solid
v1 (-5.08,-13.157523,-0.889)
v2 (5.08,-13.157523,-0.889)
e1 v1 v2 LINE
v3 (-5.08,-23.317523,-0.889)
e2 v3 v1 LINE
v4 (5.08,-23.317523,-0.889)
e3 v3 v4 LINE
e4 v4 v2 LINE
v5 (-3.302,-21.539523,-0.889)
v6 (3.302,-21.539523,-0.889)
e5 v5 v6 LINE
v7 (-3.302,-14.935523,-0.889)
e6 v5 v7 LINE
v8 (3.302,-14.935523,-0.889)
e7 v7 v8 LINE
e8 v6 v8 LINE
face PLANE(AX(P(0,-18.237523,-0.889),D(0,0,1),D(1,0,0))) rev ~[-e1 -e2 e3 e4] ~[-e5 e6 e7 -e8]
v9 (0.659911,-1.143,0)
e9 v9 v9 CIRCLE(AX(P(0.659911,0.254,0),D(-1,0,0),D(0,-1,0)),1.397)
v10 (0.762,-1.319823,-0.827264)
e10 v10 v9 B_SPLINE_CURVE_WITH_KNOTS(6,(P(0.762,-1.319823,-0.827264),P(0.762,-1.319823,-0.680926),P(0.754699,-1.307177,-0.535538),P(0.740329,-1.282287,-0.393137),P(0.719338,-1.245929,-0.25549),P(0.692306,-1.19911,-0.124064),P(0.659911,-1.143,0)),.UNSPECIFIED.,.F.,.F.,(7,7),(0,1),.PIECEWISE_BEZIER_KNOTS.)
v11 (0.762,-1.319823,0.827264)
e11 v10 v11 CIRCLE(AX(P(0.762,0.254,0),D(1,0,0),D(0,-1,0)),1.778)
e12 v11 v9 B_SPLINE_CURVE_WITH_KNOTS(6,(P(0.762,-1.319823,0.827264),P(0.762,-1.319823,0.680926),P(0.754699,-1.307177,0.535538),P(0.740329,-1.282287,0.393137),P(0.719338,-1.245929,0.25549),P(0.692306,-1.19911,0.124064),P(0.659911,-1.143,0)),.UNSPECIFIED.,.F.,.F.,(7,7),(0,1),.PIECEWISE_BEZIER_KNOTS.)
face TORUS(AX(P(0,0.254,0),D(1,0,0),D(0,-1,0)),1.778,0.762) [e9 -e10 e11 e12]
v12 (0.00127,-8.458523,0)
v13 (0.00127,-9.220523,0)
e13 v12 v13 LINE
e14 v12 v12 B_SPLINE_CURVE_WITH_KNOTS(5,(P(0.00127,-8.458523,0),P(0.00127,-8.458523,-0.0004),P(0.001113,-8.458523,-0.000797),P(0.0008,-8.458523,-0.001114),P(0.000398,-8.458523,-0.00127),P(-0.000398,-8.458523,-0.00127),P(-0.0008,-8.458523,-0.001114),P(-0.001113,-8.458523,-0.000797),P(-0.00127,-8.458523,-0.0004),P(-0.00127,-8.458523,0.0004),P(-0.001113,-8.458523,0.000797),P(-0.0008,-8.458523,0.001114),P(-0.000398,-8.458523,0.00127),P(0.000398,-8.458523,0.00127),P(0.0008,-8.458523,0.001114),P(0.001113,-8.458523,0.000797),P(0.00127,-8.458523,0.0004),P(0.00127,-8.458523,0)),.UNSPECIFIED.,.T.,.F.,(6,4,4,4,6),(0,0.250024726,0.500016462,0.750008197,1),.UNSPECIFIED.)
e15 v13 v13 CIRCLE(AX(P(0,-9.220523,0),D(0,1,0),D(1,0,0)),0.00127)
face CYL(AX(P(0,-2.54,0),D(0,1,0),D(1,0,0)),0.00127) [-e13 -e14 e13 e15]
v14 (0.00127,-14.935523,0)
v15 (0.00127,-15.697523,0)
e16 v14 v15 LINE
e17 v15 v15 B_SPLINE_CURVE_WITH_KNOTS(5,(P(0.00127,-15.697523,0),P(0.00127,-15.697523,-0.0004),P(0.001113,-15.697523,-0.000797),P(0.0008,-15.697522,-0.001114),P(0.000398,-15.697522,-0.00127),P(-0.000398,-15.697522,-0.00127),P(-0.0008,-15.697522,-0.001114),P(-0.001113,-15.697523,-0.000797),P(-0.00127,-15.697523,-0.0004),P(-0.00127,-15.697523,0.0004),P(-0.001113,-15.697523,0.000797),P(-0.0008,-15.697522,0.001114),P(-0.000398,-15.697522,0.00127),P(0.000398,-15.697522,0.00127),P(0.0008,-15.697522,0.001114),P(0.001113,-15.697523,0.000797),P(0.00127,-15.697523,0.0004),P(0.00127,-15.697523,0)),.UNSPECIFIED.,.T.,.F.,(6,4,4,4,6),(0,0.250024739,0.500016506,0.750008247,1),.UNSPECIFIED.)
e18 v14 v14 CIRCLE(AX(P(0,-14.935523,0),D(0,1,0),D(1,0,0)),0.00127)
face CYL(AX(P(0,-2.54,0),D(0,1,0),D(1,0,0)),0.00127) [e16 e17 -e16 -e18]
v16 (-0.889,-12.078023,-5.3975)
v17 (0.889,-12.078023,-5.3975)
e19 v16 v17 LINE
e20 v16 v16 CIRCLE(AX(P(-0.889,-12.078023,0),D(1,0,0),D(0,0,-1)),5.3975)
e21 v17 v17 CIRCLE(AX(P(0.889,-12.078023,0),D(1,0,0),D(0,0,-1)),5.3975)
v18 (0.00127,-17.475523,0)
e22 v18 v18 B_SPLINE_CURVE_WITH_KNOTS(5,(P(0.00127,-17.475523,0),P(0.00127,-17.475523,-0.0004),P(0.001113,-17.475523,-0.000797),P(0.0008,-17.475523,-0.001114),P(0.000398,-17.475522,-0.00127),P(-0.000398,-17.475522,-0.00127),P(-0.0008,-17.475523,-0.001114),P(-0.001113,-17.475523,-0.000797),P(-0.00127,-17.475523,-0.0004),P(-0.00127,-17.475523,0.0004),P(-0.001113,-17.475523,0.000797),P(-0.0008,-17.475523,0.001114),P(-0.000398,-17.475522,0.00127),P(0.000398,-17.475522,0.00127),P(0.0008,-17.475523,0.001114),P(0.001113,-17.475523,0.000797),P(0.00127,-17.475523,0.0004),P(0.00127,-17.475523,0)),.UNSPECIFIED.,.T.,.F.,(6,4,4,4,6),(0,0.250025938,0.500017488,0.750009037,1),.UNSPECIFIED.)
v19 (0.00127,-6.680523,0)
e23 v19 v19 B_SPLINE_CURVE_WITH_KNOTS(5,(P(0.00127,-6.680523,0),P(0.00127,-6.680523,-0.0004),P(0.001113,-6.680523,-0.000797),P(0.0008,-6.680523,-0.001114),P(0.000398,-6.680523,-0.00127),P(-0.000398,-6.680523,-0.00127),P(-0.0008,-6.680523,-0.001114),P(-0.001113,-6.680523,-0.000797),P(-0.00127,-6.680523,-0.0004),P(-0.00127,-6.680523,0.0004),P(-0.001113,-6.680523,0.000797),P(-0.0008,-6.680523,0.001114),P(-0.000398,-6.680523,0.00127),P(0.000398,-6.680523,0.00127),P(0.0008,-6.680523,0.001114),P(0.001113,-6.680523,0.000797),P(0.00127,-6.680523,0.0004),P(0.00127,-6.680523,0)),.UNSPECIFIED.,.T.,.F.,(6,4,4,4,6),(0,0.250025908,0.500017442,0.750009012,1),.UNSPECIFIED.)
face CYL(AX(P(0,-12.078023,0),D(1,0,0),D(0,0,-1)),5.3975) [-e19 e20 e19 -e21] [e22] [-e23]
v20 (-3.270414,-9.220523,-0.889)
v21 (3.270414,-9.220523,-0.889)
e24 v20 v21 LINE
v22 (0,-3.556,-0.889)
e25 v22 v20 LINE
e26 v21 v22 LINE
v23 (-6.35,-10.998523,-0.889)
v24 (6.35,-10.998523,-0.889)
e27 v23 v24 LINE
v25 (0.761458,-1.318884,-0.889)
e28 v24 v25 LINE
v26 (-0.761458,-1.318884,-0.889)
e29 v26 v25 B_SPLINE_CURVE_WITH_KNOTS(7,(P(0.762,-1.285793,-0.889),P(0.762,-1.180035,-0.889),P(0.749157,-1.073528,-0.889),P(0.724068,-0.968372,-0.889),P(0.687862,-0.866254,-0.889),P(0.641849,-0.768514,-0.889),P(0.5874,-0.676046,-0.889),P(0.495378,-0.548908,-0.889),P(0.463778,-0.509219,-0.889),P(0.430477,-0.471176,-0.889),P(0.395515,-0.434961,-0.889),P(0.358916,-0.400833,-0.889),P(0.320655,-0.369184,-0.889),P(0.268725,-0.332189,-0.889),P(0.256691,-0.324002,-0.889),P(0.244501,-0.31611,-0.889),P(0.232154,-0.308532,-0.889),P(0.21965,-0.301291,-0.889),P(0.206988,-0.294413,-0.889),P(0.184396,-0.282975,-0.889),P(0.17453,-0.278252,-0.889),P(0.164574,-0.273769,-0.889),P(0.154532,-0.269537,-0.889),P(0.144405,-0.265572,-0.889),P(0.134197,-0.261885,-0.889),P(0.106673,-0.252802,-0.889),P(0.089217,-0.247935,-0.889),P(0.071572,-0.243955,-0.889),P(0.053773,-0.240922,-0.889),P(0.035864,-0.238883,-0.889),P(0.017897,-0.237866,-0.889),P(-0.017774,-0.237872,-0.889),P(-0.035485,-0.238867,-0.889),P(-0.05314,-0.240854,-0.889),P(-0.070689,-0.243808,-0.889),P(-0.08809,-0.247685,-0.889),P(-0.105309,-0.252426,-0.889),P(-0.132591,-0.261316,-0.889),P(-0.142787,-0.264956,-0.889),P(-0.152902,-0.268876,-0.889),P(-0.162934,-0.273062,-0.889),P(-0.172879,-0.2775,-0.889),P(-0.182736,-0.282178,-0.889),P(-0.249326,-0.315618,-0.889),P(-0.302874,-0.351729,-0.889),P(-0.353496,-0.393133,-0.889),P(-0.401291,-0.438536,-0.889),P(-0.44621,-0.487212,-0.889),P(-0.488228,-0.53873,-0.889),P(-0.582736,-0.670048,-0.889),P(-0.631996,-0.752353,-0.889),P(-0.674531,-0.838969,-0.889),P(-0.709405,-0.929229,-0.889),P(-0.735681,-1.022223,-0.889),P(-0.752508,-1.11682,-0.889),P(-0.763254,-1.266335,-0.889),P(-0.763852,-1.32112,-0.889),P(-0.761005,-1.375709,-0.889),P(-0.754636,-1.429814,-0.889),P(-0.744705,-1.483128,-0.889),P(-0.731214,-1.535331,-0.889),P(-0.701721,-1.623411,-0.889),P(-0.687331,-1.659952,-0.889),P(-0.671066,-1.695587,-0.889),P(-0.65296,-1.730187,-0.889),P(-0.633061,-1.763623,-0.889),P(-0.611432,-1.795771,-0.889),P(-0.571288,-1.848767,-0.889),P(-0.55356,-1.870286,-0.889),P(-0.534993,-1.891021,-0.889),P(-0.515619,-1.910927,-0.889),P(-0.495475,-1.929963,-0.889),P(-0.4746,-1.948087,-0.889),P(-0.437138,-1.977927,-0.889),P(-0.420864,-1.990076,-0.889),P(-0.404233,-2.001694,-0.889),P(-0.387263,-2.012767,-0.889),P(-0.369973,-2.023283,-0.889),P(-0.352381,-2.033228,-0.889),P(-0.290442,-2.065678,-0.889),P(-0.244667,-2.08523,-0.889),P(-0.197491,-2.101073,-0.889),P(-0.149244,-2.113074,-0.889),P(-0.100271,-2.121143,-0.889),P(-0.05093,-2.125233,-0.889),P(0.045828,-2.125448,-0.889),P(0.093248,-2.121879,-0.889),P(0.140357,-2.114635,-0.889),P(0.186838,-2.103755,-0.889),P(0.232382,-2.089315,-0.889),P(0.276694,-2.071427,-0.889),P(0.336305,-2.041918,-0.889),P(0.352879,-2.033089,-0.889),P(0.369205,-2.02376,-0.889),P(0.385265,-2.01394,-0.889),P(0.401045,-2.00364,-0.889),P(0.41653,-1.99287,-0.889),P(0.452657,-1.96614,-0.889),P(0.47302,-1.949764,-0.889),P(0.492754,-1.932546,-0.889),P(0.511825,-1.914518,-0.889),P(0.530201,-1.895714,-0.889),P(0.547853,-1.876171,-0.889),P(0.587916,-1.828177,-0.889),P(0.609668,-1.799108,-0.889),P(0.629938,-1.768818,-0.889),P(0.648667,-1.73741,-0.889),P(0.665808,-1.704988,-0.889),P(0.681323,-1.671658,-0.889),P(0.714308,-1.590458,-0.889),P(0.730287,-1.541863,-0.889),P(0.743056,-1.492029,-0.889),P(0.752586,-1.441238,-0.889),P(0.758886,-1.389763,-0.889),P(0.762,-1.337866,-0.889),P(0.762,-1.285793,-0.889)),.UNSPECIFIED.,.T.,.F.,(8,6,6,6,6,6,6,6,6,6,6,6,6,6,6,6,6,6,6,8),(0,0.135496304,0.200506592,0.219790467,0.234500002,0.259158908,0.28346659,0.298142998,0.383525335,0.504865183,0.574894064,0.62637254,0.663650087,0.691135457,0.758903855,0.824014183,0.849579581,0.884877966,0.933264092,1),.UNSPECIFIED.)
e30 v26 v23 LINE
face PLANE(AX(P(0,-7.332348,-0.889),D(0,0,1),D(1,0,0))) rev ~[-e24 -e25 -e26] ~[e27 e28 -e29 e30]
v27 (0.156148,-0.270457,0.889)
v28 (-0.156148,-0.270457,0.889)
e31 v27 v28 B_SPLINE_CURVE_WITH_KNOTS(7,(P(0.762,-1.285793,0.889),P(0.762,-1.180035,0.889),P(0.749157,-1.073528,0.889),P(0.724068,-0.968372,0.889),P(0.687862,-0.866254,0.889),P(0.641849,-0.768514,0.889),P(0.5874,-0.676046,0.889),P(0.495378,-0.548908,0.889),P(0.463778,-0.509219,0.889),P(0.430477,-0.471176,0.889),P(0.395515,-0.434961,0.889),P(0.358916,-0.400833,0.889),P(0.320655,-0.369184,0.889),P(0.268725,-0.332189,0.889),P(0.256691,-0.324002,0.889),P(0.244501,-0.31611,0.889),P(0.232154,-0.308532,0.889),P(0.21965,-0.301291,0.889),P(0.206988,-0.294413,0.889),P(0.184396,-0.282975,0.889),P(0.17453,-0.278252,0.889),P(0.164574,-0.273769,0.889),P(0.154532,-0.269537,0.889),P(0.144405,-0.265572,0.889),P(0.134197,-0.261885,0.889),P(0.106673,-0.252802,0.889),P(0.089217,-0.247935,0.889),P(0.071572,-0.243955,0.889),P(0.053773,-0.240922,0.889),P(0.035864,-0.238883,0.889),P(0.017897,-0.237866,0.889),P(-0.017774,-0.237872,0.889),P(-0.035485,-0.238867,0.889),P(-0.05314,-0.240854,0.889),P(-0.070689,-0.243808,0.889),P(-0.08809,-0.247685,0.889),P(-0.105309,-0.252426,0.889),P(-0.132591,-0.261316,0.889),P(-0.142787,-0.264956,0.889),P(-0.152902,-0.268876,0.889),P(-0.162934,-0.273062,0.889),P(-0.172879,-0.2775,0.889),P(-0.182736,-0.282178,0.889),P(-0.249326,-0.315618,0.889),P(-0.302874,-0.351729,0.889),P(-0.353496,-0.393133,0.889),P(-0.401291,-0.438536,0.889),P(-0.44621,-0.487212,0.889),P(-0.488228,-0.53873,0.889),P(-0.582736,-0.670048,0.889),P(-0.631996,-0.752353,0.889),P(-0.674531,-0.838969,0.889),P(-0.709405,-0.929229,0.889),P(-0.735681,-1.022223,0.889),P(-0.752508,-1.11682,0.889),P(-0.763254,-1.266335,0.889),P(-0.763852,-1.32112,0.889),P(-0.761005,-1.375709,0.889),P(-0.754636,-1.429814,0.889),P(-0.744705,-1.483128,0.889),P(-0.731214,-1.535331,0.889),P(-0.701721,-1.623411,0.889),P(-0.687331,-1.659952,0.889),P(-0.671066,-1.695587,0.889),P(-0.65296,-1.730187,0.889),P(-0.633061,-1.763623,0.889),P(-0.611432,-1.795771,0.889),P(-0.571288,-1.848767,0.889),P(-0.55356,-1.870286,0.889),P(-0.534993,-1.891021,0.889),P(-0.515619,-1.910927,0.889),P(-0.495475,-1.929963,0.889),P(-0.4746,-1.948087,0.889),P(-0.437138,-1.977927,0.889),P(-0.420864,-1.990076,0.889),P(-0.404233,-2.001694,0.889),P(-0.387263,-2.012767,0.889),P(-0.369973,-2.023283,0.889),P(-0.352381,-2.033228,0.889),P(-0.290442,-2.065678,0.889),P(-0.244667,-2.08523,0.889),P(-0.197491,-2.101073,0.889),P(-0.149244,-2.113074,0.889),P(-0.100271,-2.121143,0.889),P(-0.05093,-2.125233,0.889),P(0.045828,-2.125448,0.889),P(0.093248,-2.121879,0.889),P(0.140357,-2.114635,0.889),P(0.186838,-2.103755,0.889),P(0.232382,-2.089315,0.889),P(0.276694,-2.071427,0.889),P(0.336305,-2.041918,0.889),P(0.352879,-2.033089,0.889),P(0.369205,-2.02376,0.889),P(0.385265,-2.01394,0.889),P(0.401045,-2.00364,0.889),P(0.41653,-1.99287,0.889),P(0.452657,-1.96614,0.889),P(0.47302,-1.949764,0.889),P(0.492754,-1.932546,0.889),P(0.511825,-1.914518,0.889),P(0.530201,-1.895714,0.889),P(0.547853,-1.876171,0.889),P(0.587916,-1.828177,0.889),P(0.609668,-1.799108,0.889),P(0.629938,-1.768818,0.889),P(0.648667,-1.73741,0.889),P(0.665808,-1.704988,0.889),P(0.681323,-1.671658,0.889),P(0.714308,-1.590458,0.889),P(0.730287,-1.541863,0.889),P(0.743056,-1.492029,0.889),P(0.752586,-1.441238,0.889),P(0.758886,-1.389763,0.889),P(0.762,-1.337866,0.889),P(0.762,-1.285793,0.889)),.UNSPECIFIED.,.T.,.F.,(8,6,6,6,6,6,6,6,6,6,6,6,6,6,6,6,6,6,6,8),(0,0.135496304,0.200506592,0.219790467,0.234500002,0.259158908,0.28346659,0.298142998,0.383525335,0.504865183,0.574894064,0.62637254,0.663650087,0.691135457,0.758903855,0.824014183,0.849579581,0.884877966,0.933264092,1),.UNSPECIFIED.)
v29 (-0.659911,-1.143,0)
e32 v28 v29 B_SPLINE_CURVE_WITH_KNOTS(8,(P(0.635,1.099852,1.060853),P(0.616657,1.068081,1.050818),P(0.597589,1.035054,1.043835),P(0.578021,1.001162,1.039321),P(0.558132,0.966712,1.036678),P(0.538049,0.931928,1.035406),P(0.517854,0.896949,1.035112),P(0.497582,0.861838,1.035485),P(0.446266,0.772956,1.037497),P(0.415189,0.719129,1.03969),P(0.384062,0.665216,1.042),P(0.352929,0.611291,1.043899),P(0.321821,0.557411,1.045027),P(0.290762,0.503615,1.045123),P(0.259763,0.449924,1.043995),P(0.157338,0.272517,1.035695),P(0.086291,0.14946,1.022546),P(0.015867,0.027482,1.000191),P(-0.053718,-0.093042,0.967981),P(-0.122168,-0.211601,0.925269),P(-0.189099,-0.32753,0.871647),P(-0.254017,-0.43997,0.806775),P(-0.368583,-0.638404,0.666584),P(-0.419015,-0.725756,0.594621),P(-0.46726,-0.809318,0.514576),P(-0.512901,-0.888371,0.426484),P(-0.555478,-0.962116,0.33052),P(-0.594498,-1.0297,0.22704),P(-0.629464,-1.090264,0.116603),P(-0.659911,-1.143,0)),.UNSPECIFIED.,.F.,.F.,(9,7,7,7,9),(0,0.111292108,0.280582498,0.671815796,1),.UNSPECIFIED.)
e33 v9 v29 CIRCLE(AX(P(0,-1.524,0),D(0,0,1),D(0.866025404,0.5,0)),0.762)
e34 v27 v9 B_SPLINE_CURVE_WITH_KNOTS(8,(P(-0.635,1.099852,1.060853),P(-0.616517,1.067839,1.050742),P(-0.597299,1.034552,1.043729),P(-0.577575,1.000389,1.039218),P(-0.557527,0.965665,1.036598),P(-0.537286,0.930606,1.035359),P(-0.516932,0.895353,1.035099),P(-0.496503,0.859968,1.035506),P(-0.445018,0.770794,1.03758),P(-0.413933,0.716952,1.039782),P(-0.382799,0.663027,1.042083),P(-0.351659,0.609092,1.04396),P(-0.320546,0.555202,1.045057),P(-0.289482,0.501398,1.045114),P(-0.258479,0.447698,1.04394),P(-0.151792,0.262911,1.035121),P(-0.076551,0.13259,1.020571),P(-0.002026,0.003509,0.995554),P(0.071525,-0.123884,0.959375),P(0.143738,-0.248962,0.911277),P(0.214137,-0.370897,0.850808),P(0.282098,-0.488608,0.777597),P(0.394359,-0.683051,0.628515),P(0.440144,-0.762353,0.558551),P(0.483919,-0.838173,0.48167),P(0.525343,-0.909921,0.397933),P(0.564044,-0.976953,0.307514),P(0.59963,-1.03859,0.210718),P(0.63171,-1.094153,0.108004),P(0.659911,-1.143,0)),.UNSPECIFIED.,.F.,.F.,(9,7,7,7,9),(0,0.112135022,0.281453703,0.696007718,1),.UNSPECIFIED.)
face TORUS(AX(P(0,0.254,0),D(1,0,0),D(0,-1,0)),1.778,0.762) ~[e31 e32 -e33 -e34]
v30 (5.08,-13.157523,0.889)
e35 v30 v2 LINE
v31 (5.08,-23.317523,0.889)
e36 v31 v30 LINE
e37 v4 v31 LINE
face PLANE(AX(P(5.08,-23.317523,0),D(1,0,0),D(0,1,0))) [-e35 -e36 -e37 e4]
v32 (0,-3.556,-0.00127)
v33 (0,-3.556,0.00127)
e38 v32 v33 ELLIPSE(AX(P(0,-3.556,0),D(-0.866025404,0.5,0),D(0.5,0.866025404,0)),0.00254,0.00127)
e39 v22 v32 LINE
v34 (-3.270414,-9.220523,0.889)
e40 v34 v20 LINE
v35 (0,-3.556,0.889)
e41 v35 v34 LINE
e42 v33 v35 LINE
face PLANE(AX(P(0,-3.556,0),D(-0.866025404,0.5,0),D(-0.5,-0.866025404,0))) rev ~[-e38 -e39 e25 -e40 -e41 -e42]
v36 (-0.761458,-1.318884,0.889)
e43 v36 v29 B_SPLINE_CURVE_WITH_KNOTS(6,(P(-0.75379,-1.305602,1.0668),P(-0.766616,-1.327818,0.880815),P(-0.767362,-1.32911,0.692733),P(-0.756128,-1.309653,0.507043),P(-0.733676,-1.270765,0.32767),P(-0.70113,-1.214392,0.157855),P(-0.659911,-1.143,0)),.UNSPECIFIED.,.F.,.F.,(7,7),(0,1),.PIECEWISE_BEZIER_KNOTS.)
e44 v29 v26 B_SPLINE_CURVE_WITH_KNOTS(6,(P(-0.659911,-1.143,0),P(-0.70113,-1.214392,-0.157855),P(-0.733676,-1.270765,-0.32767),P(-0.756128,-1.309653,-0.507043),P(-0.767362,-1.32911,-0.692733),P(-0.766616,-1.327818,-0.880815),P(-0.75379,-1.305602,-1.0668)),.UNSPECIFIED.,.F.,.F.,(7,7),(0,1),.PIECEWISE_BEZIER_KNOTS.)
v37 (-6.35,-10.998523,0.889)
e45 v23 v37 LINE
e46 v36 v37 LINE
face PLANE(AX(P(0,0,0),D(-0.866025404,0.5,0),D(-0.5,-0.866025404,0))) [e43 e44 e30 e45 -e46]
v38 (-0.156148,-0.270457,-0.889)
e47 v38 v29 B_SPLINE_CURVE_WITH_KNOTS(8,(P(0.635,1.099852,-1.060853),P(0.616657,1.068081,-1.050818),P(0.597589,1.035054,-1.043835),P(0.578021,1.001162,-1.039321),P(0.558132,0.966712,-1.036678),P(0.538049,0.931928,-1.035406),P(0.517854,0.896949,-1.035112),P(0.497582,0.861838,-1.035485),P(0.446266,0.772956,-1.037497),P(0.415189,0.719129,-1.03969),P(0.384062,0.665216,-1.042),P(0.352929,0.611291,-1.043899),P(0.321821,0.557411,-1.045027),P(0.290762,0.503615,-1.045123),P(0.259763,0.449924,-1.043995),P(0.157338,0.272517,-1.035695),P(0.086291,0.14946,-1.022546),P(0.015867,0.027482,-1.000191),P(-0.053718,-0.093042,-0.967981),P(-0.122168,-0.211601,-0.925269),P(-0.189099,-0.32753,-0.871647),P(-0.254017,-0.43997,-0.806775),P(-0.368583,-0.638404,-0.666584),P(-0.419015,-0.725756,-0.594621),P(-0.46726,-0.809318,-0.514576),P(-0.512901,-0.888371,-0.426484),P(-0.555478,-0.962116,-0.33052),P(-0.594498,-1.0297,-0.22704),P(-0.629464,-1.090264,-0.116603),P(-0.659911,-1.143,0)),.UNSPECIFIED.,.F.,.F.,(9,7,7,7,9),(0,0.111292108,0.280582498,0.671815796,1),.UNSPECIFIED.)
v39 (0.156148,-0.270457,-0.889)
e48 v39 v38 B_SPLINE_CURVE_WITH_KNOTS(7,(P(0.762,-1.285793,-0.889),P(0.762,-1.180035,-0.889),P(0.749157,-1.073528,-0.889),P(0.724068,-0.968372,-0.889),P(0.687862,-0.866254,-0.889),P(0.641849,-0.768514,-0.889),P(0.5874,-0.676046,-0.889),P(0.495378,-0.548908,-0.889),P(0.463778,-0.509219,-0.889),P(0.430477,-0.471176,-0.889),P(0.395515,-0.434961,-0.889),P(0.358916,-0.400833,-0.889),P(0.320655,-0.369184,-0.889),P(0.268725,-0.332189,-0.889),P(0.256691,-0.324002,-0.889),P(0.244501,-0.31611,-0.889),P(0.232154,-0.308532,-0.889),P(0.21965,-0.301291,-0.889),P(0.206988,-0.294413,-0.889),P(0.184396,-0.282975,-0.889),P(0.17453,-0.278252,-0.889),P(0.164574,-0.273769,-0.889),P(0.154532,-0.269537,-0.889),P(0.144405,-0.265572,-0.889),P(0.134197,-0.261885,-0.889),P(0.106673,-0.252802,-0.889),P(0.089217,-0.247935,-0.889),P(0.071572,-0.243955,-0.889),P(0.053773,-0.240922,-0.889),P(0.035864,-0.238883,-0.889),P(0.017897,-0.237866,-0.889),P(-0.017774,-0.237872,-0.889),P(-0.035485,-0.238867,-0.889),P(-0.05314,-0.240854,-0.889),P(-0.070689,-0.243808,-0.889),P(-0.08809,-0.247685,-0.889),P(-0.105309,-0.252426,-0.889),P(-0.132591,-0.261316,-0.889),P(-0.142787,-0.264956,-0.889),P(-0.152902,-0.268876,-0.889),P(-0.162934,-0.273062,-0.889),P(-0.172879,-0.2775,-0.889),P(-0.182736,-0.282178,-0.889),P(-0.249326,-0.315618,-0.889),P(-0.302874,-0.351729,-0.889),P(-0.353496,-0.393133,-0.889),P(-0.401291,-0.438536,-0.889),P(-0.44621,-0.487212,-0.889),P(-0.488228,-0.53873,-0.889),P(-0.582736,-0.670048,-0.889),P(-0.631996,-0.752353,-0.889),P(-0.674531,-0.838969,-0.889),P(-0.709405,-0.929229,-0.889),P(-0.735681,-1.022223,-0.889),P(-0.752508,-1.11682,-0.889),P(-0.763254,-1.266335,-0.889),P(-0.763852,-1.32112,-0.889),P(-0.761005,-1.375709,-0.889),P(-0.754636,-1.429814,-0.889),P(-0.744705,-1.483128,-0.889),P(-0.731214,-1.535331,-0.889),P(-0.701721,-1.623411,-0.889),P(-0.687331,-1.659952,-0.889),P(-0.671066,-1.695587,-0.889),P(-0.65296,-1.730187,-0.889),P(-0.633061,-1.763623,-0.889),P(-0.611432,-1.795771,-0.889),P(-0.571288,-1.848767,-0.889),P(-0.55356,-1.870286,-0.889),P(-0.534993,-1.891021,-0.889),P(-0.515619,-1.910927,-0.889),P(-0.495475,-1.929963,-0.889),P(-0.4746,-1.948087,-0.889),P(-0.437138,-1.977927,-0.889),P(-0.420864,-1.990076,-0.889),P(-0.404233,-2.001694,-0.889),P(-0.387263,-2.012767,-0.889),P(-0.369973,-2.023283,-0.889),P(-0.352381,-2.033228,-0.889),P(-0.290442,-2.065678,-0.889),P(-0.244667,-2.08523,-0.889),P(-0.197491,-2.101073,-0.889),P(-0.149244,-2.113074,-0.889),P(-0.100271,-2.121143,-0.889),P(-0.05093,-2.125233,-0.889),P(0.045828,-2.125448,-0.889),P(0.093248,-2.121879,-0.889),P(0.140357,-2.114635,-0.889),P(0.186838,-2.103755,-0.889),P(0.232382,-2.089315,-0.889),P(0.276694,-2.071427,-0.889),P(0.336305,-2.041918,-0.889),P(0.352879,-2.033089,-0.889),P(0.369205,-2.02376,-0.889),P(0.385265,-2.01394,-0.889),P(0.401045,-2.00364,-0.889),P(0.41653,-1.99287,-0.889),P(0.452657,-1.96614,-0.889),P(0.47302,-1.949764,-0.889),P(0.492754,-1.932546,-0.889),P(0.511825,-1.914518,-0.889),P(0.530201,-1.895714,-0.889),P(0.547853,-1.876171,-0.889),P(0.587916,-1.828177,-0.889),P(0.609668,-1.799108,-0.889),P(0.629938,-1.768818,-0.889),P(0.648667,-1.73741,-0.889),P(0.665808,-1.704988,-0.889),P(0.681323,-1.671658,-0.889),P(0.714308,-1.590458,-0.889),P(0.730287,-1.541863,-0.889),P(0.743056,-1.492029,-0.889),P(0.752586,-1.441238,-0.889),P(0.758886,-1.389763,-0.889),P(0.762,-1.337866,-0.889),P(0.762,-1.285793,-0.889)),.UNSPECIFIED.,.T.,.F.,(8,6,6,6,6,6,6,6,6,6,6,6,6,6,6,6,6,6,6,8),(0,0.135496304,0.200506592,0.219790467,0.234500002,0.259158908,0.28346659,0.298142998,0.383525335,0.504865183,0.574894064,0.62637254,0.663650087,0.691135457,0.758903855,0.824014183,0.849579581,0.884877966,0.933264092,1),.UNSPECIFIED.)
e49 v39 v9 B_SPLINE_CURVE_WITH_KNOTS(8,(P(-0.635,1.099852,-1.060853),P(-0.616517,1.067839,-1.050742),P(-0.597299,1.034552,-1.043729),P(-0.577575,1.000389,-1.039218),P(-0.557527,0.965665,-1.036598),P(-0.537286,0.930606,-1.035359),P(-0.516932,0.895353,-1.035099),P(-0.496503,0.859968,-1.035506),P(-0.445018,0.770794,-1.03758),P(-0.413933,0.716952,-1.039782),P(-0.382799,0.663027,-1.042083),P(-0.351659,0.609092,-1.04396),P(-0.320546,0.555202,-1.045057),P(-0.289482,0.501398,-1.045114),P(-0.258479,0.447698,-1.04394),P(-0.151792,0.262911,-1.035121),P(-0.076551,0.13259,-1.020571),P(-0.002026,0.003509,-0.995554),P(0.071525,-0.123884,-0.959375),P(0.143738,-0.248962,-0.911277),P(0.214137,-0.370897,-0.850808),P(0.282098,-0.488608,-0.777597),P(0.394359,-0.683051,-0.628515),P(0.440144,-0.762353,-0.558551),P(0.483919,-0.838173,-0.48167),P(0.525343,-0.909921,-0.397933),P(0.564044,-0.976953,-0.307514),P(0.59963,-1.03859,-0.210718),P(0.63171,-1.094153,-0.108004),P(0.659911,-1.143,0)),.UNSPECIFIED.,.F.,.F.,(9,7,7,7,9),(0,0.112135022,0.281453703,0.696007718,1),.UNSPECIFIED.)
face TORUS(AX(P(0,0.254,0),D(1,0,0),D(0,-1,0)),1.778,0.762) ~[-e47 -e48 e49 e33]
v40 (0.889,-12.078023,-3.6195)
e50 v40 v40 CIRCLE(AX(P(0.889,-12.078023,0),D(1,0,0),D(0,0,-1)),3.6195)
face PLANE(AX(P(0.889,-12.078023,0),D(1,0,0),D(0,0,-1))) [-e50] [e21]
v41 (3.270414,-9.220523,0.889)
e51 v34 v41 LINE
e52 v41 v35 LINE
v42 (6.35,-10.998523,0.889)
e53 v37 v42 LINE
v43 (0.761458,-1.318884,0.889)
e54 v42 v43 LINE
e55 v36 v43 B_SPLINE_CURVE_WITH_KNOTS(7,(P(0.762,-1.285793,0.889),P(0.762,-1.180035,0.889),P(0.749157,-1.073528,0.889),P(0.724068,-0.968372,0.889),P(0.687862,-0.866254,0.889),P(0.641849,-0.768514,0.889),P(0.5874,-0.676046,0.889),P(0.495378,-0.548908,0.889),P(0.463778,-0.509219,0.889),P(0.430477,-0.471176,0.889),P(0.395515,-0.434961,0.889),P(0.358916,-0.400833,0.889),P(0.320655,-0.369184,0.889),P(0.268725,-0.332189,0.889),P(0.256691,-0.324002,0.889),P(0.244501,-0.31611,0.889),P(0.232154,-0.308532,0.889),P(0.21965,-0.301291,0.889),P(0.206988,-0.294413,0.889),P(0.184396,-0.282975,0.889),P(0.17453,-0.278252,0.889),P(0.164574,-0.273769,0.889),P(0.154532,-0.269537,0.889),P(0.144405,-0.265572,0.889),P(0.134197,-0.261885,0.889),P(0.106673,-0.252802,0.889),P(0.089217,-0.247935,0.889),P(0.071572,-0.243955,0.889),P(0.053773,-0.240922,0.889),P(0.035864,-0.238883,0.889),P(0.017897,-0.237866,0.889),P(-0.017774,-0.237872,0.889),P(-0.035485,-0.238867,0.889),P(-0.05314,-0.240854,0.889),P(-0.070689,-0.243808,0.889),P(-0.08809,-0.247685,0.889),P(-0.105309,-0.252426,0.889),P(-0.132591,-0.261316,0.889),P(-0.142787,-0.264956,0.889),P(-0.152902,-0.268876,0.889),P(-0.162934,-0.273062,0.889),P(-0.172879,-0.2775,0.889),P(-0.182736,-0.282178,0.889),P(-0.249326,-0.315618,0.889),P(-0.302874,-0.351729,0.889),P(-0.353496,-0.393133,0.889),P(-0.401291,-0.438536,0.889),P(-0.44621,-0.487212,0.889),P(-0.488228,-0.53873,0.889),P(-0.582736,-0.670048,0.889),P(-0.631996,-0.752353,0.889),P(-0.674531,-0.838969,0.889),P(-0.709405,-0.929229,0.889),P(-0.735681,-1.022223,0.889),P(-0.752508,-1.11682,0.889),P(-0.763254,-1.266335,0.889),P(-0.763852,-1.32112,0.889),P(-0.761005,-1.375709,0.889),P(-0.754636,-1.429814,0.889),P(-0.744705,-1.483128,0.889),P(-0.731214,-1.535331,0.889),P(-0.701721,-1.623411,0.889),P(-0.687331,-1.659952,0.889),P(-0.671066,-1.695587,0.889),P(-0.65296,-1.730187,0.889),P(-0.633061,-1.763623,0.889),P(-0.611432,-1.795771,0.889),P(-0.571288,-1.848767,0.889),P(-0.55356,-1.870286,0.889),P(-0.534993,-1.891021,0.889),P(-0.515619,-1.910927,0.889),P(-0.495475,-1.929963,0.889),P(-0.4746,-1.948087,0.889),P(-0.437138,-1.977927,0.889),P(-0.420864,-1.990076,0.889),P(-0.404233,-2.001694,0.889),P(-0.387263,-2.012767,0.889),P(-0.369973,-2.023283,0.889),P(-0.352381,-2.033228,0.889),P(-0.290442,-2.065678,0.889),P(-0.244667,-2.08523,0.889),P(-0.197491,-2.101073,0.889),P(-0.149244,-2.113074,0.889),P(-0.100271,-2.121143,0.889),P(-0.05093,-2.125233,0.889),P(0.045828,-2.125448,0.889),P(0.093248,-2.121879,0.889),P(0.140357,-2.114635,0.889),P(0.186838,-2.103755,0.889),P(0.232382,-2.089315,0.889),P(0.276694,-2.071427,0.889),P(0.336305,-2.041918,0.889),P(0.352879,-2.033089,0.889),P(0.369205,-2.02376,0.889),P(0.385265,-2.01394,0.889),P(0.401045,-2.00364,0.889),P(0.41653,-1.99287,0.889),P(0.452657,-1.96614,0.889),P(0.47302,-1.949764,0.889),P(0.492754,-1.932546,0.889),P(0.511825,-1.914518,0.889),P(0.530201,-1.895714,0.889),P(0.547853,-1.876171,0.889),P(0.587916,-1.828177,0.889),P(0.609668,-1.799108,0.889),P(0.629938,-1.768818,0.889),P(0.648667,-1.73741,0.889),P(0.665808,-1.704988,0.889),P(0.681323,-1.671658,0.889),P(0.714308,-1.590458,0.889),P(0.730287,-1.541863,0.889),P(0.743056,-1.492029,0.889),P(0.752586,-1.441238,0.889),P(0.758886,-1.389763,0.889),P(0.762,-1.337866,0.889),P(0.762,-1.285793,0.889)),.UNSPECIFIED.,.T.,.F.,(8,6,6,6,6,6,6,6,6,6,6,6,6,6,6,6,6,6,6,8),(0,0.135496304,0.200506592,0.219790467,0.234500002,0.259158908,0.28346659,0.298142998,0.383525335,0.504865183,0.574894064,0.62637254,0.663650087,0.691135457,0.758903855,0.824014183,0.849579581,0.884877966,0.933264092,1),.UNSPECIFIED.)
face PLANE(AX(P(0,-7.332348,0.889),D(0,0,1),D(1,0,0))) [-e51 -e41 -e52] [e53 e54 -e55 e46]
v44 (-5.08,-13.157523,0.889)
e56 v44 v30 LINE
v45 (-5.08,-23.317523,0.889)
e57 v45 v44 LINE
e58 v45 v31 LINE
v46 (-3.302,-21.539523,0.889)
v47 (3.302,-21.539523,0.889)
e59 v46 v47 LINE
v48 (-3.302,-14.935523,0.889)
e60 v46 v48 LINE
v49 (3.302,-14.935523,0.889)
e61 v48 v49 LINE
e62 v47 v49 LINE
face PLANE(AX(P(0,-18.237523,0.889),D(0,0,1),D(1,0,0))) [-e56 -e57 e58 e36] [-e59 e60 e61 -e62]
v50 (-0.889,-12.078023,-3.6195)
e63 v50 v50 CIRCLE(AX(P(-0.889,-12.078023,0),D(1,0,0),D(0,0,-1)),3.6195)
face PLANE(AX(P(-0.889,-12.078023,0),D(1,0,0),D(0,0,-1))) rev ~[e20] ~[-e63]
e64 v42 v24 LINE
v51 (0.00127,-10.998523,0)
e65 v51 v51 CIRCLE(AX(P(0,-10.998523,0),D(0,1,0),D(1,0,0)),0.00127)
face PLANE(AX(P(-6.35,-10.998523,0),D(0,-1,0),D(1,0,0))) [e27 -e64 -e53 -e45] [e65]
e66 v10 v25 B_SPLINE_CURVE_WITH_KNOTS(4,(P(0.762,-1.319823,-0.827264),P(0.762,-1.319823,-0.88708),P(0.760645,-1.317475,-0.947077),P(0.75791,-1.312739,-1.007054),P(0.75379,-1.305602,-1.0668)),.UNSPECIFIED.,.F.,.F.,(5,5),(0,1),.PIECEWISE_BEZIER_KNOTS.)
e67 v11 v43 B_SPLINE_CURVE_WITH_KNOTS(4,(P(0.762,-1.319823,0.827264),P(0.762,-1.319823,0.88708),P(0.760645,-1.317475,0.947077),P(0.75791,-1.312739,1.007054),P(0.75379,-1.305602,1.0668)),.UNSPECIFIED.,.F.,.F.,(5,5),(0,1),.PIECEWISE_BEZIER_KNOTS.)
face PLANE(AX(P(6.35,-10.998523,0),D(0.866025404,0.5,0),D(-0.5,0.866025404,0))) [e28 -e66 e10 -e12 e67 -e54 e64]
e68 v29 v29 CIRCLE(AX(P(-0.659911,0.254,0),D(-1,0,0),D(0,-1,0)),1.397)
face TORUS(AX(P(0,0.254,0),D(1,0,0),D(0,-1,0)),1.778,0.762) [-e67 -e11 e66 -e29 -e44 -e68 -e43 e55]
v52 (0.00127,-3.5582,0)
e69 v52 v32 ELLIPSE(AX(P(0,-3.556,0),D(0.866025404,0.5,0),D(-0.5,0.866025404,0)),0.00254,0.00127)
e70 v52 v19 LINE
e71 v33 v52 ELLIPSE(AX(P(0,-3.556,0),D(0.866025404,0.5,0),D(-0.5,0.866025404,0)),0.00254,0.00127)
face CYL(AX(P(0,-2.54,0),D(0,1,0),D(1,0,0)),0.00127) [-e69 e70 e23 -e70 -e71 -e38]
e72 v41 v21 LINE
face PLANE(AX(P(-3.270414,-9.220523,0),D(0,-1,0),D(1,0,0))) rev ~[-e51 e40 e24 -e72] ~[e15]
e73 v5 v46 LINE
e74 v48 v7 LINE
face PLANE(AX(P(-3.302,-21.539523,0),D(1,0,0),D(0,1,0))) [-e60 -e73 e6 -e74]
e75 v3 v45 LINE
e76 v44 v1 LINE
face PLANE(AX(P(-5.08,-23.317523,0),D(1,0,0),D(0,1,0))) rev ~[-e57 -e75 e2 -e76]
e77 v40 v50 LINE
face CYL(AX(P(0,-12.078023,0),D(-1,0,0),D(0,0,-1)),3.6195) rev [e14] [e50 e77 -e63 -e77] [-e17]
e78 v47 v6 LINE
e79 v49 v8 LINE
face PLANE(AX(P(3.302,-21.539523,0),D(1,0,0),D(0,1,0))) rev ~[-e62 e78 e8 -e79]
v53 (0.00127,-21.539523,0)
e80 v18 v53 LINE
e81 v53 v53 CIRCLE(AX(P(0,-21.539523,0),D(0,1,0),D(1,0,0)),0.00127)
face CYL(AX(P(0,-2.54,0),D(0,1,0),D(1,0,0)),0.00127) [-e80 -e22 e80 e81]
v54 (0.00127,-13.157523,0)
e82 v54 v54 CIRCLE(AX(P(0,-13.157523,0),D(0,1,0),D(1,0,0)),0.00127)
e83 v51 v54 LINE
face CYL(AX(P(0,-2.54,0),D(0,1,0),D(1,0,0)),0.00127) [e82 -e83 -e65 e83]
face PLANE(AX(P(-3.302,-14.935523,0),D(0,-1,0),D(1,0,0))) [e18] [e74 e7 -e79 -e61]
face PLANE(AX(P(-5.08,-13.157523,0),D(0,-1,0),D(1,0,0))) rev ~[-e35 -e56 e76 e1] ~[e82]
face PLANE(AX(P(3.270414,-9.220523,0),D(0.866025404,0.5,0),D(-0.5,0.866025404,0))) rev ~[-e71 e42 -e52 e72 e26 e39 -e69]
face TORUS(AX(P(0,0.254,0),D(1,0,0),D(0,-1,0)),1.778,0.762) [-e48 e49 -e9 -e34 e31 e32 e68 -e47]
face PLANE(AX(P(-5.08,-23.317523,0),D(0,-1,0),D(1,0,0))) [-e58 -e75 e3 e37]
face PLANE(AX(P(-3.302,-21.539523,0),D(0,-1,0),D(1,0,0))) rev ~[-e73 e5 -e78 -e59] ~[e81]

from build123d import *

# Parameters (mm, degrees)
BOSS_EXTRUDE1_DEPTH = 0.889
SKETCH2_R           = 5.3975
SKETCH2_R_2         = 3.6195
BOSS_EXTRUDE2_DEPTH = 0.889
SKETCH3_W           = 10.16
SKETCH3_H           = 10.16
SKETCH3_W_2         = 6.604
SKETCH3_H_2         = 6.604
BOSS_EXTRUDE3_DEPTH = 0.889
SKETCH4_R           = 0.762
BOSS_EXTRUDE4_START = -2.54
SKETCH8_R           = 0.00127
BOSS_EXTRUDE4_DEPTH = 18.999523


with BuildPart() as part:
    # Sketch1 → Boss-Extrude1 (new body, symmetric)
    with BuildSketch(Plane.XY):
        Polygon((0, 0), (-6.35, -10.998522628), (6.35, -10.998522628), align=None)
        Polygon((0, -3.556), (-3.270413664, -9.220522628), (3.270413664, -9.220522628), align=None, mode=Mode.SUBTRACT)
    extrude(amount=BOSS_EXTRUDE1_DEPTH, both=True)

    # Sketch4 → Revolve1 (revolve)
    with BuildSketch(Plane.XY):
        with Locations((0, -1.524)):
            Circle(SKETCH4_R)
    revolve(axis=Axis((0, 0.254, 0), (1, 0, 0)))

    # Sketch5 → Cut-Revolve1 (revolve, cut)
    with BuildSketch(Plane.XY):
        with BuildLine():
            Line((-0.659911358, -1.143), (-0.659911358, 0.254))
            Line((-0.659911358, 0.254), (0.659911358, 0.254))
            Line((0.659911358, 0.254), (0.659911358, -1.143))
            ThreePointArc((0.659911358, -1.143), (0, -0.762), (-0.659911358, -1.143))
        make_face()
    revolve(axis=Axis((0.659911358, 0.254, 0), (-1, 0, 0)), mode=Mode.SUBTRACT)



with BuildPart() as body_2:
    # Sketch2 → Boss-Extrude2 (new body, symmetric)
    with BuildSketch(Plane(origin=(0, 0, 0), x_dir=(0, 0, -1), z_dir=(1, 0, 0))):
        with Locations((0, -12.078022628)):
            Circle(SKETCH2_R)
        with Locations((0, -12.078022628)):
            Circle(SKETCH2_R_2, mode=Mode.SUBTRACT)
    extrude(amount=BOSS_EXTRUDE2_DEPTH, both=True)


with BuildPart() as body_3:
    # Sketch3 → Boss-Extrude3 (new body, symmetric)
    with BuildSketch(Plane.XY):
        with Locations((0, -18.237522628)):
            Rectangle(SKETCH3_W, SKETCH3_H)
        with Locations((0, -18.237522628)):
            Rectangle(SKETCH3_W_2, SKETCH3_H_2, mode=Mode.SUBTRACT)
    extrude(amount=BOSS_EXTRUDE3_DEPTH, both=True)


with BuildPart() as part_1:
    add(part.part)

    add(body_2.part)  # Boss-Extrude4 merges body 2

    add(body_3.part)  # Boss-Extrude4 merges body 3
    # Sketch8 → Boss-Extrude4 (add)
    with BuildSketch(Plane(origin=(0, 0, 0), x_dir=(1, 0, 0), z_dir=(0, 1, 0)).offset(BOSS_EXTRUDE4_START)):
        Circle(SKETCH8_R)
    extrude(amount=-BOSS_EXTRUDE4_DEPTH)


solid = part_1.part
